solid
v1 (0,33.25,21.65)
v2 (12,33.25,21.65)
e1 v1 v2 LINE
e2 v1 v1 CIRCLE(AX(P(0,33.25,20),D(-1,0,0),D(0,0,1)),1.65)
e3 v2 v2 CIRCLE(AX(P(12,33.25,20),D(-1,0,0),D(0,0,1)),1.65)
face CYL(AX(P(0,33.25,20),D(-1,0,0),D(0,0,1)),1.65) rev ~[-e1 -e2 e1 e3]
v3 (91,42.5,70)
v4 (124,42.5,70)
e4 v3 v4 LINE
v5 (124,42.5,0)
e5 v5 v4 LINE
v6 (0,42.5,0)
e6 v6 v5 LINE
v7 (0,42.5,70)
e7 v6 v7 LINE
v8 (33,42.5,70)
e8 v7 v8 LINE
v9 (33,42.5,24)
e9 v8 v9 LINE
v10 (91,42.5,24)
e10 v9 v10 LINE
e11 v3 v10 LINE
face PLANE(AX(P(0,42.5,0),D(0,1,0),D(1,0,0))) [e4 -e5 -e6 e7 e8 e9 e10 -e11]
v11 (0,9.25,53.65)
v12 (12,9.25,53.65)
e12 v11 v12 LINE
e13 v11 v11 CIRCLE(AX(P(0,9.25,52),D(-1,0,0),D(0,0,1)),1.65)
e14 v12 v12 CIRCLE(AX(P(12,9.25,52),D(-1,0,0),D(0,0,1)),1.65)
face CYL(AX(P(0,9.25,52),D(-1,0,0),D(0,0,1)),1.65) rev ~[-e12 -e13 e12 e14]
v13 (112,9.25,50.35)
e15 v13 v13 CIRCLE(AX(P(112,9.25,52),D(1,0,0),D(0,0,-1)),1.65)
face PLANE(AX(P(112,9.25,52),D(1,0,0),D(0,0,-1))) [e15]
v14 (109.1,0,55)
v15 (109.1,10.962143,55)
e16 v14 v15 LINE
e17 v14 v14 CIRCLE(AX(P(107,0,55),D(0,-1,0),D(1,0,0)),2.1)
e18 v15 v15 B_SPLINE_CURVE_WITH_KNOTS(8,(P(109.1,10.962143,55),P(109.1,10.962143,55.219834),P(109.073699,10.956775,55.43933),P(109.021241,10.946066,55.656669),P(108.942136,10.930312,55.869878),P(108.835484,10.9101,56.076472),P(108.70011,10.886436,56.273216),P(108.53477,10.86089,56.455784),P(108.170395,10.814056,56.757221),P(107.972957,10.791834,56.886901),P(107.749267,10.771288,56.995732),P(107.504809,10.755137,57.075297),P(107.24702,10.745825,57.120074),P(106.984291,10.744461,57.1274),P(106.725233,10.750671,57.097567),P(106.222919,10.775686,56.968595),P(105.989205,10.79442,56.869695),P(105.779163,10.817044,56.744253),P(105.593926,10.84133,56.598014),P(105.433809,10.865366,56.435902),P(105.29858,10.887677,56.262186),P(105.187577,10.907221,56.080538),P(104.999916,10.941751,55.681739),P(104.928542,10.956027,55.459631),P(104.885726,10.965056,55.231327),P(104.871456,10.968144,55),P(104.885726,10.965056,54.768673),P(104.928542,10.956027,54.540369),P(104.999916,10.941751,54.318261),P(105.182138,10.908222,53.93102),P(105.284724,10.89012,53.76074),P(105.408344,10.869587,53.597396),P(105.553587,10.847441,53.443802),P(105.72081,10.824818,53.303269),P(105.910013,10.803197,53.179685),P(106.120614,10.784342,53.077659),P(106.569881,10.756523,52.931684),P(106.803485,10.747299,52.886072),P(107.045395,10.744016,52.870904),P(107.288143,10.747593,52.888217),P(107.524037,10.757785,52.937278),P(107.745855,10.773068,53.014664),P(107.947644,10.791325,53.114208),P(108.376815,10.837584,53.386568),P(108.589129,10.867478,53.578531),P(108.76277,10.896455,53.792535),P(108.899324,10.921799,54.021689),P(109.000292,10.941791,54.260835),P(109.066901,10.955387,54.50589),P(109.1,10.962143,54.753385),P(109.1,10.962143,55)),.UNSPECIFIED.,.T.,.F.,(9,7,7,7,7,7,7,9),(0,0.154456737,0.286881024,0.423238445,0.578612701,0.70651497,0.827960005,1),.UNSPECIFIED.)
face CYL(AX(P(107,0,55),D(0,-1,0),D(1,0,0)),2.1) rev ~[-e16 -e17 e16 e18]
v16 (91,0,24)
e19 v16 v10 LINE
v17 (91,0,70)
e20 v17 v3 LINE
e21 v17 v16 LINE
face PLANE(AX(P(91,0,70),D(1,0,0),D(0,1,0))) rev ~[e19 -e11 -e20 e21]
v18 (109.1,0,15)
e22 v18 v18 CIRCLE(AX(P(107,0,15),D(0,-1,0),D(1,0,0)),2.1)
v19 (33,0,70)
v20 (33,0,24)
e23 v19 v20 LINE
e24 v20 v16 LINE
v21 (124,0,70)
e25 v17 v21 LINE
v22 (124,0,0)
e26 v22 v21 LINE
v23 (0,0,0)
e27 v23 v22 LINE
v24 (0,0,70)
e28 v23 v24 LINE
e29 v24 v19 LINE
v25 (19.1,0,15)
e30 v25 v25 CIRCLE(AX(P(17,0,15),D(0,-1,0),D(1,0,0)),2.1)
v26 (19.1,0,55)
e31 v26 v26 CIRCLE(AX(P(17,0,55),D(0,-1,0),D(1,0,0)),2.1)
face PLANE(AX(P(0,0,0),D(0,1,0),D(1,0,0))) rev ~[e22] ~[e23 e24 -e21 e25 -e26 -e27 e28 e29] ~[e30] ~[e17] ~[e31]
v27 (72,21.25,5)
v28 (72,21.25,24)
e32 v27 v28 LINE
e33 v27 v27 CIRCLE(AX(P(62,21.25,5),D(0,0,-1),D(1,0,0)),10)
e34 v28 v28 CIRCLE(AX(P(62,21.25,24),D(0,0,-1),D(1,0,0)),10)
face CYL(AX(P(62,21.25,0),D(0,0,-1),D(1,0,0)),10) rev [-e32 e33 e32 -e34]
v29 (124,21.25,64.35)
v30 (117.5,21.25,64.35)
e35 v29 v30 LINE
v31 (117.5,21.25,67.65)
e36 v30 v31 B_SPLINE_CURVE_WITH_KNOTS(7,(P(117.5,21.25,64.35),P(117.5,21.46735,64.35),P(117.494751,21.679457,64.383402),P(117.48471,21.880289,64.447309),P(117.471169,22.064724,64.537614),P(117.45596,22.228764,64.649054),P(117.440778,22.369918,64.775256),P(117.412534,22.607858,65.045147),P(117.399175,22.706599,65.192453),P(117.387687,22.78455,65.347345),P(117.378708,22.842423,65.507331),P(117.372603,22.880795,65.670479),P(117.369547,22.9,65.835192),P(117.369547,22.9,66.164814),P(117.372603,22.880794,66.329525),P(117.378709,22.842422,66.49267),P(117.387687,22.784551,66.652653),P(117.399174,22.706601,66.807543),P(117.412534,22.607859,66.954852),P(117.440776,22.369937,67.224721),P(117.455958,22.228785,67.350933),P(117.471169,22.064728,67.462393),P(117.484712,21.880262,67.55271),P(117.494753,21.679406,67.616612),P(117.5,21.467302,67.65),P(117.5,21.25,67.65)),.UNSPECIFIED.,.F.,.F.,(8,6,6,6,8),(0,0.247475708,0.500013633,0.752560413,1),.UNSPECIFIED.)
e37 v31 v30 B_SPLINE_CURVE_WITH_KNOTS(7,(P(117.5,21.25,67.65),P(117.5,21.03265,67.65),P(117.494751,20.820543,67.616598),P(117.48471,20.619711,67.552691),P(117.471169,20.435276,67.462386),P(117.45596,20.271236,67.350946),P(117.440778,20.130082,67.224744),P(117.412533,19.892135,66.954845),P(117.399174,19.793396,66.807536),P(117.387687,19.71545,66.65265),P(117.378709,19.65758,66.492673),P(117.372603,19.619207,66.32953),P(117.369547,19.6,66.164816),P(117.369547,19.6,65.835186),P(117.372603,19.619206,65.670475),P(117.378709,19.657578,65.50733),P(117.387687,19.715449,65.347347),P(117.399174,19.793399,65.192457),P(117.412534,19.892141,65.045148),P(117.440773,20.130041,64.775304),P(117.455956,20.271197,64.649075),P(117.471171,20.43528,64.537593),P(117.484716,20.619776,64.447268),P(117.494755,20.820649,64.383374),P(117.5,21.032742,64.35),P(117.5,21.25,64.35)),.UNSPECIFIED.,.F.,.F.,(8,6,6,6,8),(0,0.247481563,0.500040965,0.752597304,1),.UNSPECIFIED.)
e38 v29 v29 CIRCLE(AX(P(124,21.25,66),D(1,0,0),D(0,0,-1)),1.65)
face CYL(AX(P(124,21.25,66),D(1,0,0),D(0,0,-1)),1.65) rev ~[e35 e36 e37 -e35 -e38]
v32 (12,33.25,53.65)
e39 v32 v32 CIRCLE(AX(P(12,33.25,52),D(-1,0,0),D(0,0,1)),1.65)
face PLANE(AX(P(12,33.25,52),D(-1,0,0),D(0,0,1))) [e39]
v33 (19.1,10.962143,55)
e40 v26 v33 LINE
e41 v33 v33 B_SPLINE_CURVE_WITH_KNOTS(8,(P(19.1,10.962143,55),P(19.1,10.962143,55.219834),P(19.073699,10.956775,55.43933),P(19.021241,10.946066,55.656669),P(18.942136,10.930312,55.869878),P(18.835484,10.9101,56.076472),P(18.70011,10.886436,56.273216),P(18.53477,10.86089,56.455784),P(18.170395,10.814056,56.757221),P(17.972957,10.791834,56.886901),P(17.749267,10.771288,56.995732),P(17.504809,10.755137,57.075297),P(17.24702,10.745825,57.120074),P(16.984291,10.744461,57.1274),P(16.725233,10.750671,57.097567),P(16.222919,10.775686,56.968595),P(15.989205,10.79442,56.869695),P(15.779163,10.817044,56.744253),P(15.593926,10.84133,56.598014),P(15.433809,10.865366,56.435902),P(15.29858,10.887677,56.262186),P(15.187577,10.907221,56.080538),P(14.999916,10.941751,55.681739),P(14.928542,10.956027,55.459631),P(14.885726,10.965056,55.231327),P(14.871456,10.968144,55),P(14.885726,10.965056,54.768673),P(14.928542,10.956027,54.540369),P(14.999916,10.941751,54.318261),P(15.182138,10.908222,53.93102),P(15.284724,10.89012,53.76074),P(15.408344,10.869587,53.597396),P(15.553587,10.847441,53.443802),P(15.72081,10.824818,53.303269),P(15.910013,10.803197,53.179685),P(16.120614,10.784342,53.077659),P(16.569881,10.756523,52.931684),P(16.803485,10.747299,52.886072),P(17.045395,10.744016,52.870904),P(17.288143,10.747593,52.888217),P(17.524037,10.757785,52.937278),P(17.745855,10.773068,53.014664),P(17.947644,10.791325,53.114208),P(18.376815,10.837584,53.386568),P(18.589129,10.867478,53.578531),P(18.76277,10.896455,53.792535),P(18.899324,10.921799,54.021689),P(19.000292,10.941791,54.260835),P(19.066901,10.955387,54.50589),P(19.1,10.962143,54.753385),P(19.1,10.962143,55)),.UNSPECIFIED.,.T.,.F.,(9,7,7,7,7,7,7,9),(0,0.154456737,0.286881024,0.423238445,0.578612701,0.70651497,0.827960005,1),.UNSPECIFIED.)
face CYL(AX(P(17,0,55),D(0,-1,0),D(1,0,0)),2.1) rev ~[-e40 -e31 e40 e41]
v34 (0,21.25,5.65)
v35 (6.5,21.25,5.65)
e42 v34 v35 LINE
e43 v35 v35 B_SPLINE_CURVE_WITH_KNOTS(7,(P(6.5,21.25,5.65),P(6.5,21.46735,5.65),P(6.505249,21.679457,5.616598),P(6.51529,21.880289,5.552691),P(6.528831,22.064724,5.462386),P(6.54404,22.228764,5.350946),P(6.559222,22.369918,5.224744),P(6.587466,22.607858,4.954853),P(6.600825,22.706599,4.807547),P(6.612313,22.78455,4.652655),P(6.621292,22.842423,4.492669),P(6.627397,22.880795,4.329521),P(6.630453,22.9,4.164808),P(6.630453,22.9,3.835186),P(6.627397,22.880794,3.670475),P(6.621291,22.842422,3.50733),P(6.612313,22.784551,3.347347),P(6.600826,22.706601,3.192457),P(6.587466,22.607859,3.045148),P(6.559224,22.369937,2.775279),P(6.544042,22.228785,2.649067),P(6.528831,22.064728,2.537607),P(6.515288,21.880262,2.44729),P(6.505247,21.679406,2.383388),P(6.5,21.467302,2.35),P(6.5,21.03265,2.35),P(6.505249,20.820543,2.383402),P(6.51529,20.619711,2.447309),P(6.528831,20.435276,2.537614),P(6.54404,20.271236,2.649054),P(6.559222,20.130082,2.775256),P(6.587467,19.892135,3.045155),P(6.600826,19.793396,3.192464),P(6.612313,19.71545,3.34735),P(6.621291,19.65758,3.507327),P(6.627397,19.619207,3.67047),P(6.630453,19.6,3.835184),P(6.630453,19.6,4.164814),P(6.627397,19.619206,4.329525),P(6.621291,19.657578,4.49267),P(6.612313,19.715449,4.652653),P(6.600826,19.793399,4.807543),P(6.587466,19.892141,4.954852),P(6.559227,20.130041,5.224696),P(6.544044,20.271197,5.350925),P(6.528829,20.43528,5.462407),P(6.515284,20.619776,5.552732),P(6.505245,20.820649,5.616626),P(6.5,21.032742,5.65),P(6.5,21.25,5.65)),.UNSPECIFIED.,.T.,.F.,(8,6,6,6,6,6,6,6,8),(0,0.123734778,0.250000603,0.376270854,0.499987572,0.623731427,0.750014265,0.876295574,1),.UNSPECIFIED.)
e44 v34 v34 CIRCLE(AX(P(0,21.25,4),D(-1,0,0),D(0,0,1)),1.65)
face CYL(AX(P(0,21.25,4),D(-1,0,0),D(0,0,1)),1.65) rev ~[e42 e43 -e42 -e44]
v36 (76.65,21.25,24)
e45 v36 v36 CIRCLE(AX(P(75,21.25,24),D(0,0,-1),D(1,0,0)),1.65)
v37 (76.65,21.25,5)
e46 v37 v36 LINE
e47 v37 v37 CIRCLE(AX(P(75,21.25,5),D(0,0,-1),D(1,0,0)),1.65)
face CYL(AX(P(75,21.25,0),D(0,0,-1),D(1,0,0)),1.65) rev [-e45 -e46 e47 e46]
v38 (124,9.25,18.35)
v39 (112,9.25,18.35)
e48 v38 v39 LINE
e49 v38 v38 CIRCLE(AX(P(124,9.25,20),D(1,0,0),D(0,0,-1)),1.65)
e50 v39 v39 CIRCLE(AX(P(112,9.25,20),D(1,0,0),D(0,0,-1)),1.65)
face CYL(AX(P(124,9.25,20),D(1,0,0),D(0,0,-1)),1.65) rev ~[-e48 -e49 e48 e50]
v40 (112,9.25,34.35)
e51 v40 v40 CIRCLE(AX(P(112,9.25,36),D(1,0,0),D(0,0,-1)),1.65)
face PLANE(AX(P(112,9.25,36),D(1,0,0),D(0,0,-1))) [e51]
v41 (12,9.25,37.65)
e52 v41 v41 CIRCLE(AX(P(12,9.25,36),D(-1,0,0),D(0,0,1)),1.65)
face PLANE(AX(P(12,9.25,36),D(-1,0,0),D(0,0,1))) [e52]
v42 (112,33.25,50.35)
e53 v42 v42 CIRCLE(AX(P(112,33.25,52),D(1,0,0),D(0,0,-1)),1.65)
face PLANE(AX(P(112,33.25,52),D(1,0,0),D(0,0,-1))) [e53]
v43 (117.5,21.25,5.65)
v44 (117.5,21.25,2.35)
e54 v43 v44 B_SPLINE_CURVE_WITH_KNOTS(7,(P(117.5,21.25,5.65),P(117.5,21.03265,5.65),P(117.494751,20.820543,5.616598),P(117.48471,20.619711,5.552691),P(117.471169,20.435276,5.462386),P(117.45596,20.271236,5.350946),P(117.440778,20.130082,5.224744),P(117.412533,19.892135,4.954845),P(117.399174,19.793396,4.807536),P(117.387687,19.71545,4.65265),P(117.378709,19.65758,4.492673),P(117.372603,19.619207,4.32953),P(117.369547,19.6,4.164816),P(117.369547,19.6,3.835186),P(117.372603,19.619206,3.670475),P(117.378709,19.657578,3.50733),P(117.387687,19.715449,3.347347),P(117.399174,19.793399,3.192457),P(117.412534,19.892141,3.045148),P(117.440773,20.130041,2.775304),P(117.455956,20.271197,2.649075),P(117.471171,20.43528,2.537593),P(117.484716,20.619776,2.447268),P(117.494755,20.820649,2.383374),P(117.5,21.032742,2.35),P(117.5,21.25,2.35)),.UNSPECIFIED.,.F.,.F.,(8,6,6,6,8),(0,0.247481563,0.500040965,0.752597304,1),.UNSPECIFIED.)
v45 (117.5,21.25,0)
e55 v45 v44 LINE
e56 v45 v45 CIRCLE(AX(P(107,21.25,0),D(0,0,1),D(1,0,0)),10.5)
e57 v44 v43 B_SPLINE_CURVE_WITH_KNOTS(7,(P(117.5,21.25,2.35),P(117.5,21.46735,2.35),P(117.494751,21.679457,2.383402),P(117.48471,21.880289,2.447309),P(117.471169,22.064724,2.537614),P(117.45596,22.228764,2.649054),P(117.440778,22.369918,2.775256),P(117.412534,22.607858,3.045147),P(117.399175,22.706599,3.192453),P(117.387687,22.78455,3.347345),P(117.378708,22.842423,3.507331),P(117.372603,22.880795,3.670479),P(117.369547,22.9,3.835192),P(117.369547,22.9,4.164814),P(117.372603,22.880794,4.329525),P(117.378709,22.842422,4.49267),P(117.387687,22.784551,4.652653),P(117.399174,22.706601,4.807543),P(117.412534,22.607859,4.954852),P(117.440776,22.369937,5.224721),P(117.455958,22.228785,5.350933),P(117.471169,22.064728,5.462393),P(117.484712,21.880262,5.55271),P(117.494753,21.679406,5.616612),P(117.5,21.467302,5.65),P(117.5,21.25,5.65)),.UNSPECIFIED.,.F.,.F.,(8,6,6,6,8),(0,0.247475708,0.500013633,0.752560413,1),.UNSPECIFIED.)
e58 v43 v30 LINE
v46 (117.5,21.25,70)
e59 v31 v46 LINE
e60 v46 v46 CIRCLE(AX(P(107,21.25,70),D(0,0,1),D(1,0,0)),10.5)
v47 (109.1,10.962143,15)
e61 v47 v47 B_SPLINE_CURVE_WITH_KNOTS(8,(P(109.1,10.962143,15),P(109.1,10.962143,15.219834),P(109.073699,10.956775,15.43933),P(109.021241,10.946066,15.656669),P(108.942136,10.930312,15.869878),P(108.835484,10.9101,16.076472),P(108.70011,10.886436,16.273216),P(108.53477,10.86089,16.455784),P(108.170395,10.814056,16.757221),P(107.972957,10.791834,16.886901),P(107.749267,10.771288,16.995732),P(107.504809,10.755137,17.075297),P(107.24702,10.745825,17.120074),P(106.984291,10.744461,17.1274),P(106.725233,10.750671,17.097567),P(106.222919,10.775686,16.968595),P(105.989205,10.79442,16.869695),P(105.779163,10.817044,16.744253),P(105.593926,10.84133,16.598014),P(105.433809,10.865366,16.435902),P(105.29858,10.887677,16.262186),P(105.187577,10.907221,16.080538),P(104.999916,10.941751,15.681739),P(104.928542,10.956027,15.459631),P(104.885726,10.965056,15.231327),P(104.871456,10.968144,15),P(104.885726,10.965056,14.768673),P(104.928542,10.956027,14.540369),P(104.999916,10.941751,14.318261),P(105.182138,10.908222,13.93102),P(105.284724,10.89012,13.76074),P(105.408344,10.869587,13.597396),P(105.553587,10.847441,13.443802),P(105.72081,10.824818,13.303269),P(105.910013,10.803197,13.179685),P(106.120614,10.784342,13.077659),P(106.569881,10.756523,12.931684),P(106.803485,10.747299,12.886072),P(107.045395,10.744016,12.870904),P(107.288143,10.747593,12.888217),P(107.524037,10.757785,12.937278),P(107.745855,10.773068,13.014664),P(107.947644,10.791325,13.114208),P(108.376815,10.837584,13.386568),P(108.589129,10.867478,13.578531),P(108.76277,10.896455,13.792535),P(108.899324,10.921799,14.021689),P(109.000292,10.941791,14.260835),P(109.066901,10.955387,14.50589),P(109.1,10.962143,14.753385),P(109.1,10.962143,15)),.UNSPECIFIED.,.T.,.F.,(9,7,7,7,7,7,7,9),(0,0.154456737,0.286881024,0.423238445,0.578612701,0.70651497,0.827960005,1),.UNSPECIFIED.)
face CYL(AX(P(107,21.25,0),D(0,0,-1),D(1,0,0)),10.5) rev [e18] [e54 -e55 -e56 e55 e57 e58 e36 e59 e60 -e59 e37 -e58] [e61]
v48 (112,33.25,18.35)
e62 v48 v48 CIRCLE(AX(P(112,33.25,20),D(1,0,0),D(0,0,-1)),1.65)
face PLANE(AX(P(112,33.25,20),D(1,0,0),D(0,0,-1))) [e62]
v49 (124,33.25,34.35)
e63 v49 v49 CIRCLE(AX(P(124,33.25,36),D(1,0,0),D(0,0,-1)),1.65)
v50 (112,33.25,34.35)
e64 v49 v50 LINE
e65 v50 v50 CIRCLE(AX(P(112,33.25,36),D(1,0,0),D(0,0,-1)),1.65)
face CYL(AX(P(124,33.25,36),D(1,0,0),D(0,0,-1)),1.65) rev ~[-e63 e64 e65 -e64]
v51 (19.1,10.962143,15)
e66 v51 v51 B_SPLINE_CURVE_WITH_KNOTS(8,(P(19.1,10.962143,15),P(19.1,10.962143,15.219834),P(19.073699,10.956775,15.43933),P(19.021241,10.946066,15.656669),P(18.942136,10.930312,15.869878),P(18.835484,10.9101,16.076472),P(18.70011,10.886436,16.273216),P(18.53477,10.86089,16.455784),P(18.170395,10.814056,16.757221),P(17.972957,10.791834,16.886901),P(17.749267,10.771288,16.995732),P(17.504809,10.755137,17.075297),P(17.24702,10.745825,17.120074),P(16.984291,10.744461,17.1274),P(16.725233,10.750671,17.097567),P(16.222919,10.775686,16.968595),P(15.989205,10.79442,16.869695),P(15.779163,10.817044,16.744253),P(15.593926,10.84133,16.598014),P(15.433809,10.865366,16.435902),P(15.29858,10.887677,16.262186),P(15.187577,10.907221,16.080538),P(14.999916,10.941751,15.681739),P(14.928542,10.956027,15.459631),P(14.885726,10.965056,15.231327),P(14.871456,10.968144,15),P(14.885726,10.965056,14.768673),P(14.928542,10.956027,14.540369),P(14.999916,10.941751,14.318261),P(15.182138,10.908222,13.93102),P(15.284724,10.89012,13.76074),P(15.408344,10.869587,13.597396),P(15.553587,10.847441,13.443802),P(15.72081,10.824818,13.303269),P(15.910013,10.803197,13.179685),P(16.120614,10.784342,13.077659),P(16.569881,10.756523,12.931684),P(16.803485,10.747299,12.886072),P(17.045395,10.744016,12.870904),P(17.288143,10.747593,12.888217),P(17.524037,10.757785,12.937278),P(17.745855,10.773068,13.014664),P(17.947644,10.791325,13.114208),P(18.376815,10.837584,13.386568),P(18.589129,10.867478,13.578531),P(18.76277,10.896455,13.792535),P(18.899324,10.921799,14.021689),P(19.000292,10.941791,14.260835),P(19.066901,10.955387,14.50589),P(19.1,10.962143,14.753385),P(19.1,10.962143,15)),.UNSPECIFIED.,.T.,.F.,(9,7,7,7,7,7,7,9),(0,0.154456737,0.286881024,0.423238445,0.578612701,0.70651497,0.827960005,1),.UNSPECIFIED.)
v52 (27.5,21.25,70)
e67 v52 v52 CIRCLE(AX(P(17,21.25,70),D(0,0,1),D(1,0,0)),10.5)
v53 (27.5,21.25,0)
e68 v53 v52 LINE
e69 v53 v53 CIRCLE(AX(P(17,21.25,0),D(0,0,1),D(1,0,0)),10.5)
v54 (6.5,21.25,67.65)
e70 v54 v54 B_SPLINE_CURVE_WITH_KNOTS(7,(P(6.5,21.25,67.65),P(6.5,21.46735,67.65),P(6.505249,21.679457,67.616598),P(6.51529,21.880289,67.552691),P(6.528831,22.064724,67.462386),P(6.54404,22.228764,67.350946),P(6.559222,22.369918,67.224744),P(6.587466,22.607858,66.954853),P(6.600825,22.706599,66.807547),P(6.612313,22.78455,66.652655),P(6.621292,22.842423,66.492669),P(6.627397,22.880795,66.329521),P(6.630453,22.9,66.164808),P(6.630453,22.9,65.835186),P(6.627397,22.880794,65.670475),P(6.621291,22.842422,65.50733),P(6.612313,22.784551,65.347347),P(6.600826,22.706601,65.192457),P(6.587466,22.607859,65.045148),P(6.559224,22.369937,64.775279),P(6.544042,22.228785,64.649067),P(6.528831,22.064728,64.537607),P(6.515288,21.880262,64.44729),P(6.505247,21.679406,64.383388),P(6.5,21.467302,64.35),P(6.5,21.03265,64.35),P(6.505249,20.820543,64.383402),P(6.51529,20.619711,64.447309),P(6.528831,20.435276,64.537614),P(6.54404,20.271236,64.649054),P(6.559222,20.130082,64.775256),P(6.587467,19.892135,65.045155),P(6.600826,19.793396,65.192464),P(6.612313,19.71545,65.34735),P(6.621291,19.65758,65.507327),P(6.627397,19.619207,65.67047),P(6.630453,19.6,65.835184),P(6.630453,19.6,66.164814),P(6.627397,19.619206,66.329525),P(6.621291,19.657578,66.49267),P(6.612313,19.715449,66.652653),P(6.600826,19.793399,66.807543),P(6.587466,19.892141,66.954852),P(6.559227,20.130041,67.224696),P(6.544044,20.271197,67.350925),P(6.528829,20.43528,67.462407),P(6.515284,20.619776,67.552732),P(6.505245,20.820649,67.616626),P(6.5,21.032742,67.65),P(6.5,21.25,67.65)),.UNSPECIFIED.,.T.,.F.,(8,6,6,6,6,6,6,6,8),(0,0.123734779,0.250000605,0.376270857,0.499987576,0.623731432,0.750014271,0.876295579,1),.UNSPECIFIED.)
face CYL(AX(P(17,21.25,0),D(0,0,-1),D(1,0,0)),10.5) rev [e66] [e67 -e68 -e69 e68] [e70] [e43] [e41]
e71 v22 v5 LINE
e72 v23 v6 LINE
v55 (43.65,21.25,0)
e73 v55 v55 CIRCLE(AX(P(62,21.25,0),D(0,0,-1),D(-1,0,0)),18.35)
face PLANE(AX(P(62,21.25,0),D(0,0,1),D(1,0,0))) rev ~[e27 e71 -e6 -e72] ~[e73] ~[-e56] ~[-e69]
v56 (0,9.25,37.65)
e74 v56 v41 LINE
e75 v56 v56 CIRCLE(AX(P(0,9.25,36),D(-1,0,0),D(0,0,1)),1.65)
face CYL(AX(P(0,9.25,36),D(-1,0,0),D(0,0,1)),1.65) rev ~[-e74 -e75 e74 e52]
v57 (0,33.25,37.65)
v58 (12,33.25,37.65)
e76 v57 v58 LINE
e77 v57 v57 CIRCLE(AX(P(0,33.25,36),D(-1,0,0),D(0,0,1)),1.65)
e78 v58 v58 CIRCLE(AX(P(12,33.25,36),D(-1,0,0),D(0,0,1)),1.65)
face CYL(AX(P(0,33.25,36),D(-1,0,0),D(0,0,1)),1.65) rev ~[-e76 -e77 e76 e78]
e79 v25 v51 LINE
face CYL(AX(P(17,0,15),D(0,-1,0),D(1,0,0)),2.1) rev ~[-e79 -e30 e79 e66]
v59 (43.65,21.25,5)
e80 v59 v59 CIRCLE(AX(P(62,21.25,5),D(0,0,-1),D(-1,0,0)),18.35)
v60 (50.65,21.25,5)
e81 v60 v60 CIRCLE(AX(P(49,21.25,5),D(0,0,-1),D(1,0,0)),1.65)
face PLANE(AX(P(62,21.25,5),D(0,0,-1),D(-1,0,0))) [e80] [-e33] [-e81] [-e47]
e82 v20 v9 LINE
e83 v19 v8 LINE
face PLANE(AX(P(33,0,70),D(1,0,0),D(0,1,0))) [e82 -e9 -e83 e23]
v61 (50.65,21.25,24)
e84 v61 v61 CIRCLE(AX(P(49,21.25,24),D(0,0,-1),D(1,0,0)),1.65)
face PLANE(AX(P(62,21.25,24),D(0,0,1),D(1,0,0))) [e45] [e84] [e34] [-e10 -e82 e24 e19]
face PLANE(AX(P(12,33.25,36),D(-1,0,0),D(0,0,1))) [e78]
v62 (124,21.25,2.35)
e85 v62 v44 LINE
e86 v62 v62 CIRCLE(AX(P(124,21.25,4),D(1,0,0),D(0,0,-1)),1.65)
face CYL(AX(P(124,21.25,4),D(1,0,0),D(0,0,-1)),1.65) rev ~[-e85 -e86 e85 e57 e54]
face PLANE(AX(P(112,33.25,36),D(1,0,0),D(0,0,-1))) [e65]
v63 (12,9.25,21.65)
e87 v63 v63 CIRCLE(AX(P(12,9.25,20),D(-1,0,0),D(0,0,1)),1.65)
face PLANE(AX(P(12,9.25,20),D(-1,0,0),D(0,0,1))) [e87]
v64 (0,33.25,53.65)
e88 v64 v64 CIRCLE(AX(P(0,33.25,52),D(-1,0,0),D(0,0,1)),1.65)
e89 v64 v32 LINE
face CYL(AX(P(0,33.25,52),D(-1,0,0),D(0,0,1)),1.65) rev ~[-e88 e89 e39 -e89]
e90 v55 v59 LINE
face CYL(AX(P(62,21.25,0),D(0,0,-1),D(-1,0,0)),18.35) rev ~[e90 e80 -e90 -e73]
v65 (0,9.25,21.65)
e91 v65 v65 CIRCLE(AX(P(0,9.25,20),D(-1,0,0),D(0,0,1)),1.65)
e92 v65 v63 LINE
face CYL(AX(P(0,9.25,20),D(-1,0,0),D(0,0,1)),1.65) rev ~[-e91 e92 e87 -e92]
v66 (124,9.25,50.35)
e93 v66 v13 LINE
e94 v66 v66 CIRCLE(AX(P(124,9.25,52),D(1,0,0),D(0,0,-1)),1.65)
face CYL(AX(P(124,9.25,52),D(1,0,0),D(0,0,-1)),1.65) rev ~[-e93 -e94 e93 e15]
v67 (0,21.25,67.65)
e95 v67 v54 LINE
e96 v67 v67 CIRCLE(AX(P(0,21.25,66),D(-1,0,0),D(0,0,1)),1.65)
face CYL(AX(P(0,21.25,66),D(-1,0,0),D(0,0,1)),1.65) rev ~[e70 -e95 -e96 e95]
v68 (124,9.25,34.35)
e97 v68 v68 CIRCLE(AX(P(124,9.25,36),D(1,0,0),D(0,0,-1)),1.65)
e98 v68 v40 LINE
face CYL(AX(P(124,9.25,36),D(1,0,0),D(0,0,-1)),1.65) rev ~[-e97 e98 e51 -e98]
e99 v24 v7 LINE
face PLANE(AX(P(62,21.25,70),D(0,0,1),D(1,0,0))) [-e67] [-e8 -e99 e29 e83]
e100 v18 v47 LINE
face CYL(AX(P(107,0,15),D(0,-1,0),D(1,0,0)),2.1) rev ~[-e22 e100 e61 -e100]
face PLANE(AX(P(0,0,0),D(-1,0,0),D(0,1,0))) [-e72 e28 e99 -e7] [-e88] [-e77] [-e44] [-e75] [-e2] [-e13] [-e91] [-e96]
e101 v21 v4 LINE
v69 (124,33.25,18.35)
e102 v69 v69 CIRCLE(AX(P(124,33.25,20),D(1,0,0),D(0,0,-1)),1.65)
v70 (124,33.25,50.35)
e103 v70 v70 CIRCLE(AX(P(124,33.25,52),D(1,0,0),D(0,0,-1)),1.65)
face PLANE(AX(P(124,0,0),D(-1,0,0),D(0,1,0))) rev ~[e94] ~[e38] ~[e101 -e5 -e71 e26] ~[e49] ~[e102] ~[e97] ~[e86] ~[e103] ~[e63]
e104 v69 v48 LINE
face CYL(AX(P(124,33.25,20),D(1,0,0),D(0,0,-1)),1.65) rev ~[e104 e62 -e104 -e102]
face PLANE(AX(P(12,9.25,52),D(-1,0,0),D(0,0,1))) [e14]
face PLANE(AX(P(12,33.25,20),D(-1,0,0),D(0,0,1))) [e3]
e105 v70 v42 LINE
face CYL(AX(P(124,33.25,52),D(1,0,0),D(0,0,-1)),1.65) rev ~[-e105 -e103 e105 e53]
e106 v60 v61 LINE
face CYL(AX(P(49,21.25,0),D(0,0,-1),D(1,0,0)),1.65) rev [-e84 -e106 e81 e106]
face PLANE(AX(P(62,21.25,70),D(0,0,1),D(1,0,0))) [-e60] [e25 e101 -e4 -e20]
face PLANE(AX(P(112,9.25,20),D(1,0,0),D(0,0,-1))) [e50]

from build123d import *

# Parameters (mm, degrees)
SKETCH1_W           = 124
SKETCH1_H           = 42.5
SKETCH1_R           = 10.5
SKETCH1_R_2         = 10
SKETCH1_R_3         = 1.65
BOSS_EXTRUDE1_DEPTH = 70
SKETCH2_W           = 58
SKETCH2_H           = 42.5
CUT_EXTRUDE1_DEPTH  = 46
SKETCH3_R           = 18.35
CUT_EXTRUDE2_DEPTH  = 5
SKETCH5_R           = 1.65
CUT_EXTRUDE4_DEPTH  = 12
SKETCH6_R           = 1.65
CUT_EXTRUDE5_DEPTH  = 12
CUT_EXTRUDE3_REACH  = 44.5
SKETCH4_R           = 2.1


with BuildPart() as part:
    # Sketch1 → Boss-Extrude1 (new body)
    with BuildSketch(Plane.XY):
        with Locations((62, 21.25)):
            Rectangle(SKETCH1_W, SKETCH1_H)
        with Locations((17, 21.25)):
            Circle(SKETCH1_R, mode=Mode.SUBTRACT)
        with Locations((62, 21.25)):
            Circle(SKETCH1_R_2, mode=Mode.SUBTRACT)
        with Locations((107, 21.25)):
            Circle(SKETCH1_R, mode=Mode.SUBTRACT)
        with Locations((49, 21.25)):
            Circle(SKETCH1_R_3, mode=Mode.SUBTRACT)
        with Locations((75, 21.25)):
            Circle(SKETCH1_R_3, mode=Mode.SUBTRACT)
    extrude(amount=BOSS_EXTRUDE1_DEPTH)

    # Sketch2 → Cut-Extrude1 (cut)
    with BuildSketch(Plane.XY.offset(70)):
        with Locations((62, 21.25)):
            Rectangle(SKETCH2_W, SKETCH2_H)
    extrude(amount=-CUT_EXTRUDE1_DEPTH, mode=Mode.SUBTRACT)

    # Sketch3 → Cut-Extrude2 (cut)
    with BuildSketch(Plane(origin=(0, 0, 0), x_dir=(-1, 0, 0), z_dir=(0, 0, -1))):
        with Locations((-62, 21.25)):
            Circle(SKETCH3_R)
    extrude(amount=-CUT_EXTRUDE2_DEPTH, mode=Mode.SUBTRACT)

    # Sketch5 → Cut-Extrude4 (cut)
    with BuildSketch(Plane(origin=(124, 0, 0), x_dir=(0, 0, -1), z_dir=(1, 0, 0))):
        with Locations((-20, 9.25)):
            Circle(SKETCH5_R)
        with Locations((-20, 33.25)):
            Circle(SKETCH5_R)
        with Locations((-36, 33.25)):
            Circle(SKETCH5_R)
        with Locations((-36, 9.25)):
            Circle(SKETCH5_R)
        with Locations((-52, 9.25)):
            Circle(SKETCH5_R)
        with Locations((-52, 33.25)):
            Circle(SKETCH5_R)
        with Locations((-66, 21.25)):
            Circle(SKETCH5_R)
        with Locations((-4, 21.25)):
            Circle(SKETCH5_R)
    extrude(amount=-CUT_EXTRUDE4_DEPTH, mode=Mode.SUBTRACT)

    # Sketch6 → Cut-Extrude5 (cut)
    with BuildSketch(Plane.ZY):
        with Locations((20, 33.25)):
            Circle(SKETCH6_R)
        with Locations((36, 33.25)):
            Circle(SKETCH6_R)
        with Locations((36, 9.25)):
            Circle(SKETCH6_R)
        with Locations((20, 9.25)):
            Circle(SKETCH6_R)
        with Locations((52, 33.25)):
            Circle(SKETCH6_R)
        with Locations((52, 9.25)):
            Circle(SKETCH6_R)
        with Locations((66, 21.25)):
            Circle(SKETCH6_R)
        with Locations((4, 21.25)):
            Circle(SKETCH6_R)
    extrude(amount=-CUT_EXTRUDE5_DEPTH, mode=Mode.SUBTRACT)

    # Sketch4 → Cut-Extrude3 (cut, up to next)
    with BuildSketch(Plane.XZ, mode=Mode.PRIVATE) as cut_extrude3_sk1:
        with Locations((17, 55)):
            Circle(SKETCH4_R)
    cut_extrude3_tool1 = extrude(cut_extrude3_sk1.sketch, amount=-CUT_EXTRUDE3_REACH, mode=Mode.PRIVATE) & part.part
    add(cut_extrude3_tool1.solids().sort_by_distance((17, 0, 55))[0], mode=Mode.SUBTRACT)
    # Sketch4 → Cut-Extrude3 (cut, up to next)
    with BuildSketch(Plane.XZ, mode=Mode.PRIVATE) as cut_extrude3_sk2:
        with Locations((17, 15)):
            Circle(SKETCH4_R)
    cut_extrude3_tool2 = extrude(cut_extrude3_sk2.sketch, amount=-CUT_EXTRUDE3_REACH, mode=Mode.PRIVATE) & part.part
    add(cut_extrude3_tool2.solids().sort_by_distance((17, 0, 15))[0], mode=Mode.SUBTRACT)
    # Sketch4 → Cut-Extrude3 (cut, up to next)
    with BuildSketch(Plane.XZ, mode=Mode.PRIVATE) as cut_extrude3_sk3:
        with Locations((107, 15)):
            Circle(SKETCH4_R)
    cut_extrude3_tool3 = extrude(cut_extrude3_sk3.sketch, amount=-CUT_EXTRUDE3_REACH, mode=Mode.PRIVATE) & part.part
    add(cut_extrude3_tool3.solids().sort_by_distance((107, 0, 15))[0], mode=Mode.SUBTRACT)
    # Sketch4 → Cut-Extrude3 (cut, up to next)
    with BuildSketch(Plane.XZ, mode=Mode.PRIVATE) as cut_extrude3_sk4:
        with Locations((107, 55)):
            Circle(SKETCH4_R)
    cut_extrude3_tool4 = extrude(cut_extrude3_sk4.sketch, amount=-CUT_EXTRUDE3_REACH, mode=Mode.PRIVATE) & part.part
    add(cut_extrude3_tool4.solids().sort_by_distance((107, 0, 55))[0], mode=Mode.SUBTRACT)


solid = part.part
